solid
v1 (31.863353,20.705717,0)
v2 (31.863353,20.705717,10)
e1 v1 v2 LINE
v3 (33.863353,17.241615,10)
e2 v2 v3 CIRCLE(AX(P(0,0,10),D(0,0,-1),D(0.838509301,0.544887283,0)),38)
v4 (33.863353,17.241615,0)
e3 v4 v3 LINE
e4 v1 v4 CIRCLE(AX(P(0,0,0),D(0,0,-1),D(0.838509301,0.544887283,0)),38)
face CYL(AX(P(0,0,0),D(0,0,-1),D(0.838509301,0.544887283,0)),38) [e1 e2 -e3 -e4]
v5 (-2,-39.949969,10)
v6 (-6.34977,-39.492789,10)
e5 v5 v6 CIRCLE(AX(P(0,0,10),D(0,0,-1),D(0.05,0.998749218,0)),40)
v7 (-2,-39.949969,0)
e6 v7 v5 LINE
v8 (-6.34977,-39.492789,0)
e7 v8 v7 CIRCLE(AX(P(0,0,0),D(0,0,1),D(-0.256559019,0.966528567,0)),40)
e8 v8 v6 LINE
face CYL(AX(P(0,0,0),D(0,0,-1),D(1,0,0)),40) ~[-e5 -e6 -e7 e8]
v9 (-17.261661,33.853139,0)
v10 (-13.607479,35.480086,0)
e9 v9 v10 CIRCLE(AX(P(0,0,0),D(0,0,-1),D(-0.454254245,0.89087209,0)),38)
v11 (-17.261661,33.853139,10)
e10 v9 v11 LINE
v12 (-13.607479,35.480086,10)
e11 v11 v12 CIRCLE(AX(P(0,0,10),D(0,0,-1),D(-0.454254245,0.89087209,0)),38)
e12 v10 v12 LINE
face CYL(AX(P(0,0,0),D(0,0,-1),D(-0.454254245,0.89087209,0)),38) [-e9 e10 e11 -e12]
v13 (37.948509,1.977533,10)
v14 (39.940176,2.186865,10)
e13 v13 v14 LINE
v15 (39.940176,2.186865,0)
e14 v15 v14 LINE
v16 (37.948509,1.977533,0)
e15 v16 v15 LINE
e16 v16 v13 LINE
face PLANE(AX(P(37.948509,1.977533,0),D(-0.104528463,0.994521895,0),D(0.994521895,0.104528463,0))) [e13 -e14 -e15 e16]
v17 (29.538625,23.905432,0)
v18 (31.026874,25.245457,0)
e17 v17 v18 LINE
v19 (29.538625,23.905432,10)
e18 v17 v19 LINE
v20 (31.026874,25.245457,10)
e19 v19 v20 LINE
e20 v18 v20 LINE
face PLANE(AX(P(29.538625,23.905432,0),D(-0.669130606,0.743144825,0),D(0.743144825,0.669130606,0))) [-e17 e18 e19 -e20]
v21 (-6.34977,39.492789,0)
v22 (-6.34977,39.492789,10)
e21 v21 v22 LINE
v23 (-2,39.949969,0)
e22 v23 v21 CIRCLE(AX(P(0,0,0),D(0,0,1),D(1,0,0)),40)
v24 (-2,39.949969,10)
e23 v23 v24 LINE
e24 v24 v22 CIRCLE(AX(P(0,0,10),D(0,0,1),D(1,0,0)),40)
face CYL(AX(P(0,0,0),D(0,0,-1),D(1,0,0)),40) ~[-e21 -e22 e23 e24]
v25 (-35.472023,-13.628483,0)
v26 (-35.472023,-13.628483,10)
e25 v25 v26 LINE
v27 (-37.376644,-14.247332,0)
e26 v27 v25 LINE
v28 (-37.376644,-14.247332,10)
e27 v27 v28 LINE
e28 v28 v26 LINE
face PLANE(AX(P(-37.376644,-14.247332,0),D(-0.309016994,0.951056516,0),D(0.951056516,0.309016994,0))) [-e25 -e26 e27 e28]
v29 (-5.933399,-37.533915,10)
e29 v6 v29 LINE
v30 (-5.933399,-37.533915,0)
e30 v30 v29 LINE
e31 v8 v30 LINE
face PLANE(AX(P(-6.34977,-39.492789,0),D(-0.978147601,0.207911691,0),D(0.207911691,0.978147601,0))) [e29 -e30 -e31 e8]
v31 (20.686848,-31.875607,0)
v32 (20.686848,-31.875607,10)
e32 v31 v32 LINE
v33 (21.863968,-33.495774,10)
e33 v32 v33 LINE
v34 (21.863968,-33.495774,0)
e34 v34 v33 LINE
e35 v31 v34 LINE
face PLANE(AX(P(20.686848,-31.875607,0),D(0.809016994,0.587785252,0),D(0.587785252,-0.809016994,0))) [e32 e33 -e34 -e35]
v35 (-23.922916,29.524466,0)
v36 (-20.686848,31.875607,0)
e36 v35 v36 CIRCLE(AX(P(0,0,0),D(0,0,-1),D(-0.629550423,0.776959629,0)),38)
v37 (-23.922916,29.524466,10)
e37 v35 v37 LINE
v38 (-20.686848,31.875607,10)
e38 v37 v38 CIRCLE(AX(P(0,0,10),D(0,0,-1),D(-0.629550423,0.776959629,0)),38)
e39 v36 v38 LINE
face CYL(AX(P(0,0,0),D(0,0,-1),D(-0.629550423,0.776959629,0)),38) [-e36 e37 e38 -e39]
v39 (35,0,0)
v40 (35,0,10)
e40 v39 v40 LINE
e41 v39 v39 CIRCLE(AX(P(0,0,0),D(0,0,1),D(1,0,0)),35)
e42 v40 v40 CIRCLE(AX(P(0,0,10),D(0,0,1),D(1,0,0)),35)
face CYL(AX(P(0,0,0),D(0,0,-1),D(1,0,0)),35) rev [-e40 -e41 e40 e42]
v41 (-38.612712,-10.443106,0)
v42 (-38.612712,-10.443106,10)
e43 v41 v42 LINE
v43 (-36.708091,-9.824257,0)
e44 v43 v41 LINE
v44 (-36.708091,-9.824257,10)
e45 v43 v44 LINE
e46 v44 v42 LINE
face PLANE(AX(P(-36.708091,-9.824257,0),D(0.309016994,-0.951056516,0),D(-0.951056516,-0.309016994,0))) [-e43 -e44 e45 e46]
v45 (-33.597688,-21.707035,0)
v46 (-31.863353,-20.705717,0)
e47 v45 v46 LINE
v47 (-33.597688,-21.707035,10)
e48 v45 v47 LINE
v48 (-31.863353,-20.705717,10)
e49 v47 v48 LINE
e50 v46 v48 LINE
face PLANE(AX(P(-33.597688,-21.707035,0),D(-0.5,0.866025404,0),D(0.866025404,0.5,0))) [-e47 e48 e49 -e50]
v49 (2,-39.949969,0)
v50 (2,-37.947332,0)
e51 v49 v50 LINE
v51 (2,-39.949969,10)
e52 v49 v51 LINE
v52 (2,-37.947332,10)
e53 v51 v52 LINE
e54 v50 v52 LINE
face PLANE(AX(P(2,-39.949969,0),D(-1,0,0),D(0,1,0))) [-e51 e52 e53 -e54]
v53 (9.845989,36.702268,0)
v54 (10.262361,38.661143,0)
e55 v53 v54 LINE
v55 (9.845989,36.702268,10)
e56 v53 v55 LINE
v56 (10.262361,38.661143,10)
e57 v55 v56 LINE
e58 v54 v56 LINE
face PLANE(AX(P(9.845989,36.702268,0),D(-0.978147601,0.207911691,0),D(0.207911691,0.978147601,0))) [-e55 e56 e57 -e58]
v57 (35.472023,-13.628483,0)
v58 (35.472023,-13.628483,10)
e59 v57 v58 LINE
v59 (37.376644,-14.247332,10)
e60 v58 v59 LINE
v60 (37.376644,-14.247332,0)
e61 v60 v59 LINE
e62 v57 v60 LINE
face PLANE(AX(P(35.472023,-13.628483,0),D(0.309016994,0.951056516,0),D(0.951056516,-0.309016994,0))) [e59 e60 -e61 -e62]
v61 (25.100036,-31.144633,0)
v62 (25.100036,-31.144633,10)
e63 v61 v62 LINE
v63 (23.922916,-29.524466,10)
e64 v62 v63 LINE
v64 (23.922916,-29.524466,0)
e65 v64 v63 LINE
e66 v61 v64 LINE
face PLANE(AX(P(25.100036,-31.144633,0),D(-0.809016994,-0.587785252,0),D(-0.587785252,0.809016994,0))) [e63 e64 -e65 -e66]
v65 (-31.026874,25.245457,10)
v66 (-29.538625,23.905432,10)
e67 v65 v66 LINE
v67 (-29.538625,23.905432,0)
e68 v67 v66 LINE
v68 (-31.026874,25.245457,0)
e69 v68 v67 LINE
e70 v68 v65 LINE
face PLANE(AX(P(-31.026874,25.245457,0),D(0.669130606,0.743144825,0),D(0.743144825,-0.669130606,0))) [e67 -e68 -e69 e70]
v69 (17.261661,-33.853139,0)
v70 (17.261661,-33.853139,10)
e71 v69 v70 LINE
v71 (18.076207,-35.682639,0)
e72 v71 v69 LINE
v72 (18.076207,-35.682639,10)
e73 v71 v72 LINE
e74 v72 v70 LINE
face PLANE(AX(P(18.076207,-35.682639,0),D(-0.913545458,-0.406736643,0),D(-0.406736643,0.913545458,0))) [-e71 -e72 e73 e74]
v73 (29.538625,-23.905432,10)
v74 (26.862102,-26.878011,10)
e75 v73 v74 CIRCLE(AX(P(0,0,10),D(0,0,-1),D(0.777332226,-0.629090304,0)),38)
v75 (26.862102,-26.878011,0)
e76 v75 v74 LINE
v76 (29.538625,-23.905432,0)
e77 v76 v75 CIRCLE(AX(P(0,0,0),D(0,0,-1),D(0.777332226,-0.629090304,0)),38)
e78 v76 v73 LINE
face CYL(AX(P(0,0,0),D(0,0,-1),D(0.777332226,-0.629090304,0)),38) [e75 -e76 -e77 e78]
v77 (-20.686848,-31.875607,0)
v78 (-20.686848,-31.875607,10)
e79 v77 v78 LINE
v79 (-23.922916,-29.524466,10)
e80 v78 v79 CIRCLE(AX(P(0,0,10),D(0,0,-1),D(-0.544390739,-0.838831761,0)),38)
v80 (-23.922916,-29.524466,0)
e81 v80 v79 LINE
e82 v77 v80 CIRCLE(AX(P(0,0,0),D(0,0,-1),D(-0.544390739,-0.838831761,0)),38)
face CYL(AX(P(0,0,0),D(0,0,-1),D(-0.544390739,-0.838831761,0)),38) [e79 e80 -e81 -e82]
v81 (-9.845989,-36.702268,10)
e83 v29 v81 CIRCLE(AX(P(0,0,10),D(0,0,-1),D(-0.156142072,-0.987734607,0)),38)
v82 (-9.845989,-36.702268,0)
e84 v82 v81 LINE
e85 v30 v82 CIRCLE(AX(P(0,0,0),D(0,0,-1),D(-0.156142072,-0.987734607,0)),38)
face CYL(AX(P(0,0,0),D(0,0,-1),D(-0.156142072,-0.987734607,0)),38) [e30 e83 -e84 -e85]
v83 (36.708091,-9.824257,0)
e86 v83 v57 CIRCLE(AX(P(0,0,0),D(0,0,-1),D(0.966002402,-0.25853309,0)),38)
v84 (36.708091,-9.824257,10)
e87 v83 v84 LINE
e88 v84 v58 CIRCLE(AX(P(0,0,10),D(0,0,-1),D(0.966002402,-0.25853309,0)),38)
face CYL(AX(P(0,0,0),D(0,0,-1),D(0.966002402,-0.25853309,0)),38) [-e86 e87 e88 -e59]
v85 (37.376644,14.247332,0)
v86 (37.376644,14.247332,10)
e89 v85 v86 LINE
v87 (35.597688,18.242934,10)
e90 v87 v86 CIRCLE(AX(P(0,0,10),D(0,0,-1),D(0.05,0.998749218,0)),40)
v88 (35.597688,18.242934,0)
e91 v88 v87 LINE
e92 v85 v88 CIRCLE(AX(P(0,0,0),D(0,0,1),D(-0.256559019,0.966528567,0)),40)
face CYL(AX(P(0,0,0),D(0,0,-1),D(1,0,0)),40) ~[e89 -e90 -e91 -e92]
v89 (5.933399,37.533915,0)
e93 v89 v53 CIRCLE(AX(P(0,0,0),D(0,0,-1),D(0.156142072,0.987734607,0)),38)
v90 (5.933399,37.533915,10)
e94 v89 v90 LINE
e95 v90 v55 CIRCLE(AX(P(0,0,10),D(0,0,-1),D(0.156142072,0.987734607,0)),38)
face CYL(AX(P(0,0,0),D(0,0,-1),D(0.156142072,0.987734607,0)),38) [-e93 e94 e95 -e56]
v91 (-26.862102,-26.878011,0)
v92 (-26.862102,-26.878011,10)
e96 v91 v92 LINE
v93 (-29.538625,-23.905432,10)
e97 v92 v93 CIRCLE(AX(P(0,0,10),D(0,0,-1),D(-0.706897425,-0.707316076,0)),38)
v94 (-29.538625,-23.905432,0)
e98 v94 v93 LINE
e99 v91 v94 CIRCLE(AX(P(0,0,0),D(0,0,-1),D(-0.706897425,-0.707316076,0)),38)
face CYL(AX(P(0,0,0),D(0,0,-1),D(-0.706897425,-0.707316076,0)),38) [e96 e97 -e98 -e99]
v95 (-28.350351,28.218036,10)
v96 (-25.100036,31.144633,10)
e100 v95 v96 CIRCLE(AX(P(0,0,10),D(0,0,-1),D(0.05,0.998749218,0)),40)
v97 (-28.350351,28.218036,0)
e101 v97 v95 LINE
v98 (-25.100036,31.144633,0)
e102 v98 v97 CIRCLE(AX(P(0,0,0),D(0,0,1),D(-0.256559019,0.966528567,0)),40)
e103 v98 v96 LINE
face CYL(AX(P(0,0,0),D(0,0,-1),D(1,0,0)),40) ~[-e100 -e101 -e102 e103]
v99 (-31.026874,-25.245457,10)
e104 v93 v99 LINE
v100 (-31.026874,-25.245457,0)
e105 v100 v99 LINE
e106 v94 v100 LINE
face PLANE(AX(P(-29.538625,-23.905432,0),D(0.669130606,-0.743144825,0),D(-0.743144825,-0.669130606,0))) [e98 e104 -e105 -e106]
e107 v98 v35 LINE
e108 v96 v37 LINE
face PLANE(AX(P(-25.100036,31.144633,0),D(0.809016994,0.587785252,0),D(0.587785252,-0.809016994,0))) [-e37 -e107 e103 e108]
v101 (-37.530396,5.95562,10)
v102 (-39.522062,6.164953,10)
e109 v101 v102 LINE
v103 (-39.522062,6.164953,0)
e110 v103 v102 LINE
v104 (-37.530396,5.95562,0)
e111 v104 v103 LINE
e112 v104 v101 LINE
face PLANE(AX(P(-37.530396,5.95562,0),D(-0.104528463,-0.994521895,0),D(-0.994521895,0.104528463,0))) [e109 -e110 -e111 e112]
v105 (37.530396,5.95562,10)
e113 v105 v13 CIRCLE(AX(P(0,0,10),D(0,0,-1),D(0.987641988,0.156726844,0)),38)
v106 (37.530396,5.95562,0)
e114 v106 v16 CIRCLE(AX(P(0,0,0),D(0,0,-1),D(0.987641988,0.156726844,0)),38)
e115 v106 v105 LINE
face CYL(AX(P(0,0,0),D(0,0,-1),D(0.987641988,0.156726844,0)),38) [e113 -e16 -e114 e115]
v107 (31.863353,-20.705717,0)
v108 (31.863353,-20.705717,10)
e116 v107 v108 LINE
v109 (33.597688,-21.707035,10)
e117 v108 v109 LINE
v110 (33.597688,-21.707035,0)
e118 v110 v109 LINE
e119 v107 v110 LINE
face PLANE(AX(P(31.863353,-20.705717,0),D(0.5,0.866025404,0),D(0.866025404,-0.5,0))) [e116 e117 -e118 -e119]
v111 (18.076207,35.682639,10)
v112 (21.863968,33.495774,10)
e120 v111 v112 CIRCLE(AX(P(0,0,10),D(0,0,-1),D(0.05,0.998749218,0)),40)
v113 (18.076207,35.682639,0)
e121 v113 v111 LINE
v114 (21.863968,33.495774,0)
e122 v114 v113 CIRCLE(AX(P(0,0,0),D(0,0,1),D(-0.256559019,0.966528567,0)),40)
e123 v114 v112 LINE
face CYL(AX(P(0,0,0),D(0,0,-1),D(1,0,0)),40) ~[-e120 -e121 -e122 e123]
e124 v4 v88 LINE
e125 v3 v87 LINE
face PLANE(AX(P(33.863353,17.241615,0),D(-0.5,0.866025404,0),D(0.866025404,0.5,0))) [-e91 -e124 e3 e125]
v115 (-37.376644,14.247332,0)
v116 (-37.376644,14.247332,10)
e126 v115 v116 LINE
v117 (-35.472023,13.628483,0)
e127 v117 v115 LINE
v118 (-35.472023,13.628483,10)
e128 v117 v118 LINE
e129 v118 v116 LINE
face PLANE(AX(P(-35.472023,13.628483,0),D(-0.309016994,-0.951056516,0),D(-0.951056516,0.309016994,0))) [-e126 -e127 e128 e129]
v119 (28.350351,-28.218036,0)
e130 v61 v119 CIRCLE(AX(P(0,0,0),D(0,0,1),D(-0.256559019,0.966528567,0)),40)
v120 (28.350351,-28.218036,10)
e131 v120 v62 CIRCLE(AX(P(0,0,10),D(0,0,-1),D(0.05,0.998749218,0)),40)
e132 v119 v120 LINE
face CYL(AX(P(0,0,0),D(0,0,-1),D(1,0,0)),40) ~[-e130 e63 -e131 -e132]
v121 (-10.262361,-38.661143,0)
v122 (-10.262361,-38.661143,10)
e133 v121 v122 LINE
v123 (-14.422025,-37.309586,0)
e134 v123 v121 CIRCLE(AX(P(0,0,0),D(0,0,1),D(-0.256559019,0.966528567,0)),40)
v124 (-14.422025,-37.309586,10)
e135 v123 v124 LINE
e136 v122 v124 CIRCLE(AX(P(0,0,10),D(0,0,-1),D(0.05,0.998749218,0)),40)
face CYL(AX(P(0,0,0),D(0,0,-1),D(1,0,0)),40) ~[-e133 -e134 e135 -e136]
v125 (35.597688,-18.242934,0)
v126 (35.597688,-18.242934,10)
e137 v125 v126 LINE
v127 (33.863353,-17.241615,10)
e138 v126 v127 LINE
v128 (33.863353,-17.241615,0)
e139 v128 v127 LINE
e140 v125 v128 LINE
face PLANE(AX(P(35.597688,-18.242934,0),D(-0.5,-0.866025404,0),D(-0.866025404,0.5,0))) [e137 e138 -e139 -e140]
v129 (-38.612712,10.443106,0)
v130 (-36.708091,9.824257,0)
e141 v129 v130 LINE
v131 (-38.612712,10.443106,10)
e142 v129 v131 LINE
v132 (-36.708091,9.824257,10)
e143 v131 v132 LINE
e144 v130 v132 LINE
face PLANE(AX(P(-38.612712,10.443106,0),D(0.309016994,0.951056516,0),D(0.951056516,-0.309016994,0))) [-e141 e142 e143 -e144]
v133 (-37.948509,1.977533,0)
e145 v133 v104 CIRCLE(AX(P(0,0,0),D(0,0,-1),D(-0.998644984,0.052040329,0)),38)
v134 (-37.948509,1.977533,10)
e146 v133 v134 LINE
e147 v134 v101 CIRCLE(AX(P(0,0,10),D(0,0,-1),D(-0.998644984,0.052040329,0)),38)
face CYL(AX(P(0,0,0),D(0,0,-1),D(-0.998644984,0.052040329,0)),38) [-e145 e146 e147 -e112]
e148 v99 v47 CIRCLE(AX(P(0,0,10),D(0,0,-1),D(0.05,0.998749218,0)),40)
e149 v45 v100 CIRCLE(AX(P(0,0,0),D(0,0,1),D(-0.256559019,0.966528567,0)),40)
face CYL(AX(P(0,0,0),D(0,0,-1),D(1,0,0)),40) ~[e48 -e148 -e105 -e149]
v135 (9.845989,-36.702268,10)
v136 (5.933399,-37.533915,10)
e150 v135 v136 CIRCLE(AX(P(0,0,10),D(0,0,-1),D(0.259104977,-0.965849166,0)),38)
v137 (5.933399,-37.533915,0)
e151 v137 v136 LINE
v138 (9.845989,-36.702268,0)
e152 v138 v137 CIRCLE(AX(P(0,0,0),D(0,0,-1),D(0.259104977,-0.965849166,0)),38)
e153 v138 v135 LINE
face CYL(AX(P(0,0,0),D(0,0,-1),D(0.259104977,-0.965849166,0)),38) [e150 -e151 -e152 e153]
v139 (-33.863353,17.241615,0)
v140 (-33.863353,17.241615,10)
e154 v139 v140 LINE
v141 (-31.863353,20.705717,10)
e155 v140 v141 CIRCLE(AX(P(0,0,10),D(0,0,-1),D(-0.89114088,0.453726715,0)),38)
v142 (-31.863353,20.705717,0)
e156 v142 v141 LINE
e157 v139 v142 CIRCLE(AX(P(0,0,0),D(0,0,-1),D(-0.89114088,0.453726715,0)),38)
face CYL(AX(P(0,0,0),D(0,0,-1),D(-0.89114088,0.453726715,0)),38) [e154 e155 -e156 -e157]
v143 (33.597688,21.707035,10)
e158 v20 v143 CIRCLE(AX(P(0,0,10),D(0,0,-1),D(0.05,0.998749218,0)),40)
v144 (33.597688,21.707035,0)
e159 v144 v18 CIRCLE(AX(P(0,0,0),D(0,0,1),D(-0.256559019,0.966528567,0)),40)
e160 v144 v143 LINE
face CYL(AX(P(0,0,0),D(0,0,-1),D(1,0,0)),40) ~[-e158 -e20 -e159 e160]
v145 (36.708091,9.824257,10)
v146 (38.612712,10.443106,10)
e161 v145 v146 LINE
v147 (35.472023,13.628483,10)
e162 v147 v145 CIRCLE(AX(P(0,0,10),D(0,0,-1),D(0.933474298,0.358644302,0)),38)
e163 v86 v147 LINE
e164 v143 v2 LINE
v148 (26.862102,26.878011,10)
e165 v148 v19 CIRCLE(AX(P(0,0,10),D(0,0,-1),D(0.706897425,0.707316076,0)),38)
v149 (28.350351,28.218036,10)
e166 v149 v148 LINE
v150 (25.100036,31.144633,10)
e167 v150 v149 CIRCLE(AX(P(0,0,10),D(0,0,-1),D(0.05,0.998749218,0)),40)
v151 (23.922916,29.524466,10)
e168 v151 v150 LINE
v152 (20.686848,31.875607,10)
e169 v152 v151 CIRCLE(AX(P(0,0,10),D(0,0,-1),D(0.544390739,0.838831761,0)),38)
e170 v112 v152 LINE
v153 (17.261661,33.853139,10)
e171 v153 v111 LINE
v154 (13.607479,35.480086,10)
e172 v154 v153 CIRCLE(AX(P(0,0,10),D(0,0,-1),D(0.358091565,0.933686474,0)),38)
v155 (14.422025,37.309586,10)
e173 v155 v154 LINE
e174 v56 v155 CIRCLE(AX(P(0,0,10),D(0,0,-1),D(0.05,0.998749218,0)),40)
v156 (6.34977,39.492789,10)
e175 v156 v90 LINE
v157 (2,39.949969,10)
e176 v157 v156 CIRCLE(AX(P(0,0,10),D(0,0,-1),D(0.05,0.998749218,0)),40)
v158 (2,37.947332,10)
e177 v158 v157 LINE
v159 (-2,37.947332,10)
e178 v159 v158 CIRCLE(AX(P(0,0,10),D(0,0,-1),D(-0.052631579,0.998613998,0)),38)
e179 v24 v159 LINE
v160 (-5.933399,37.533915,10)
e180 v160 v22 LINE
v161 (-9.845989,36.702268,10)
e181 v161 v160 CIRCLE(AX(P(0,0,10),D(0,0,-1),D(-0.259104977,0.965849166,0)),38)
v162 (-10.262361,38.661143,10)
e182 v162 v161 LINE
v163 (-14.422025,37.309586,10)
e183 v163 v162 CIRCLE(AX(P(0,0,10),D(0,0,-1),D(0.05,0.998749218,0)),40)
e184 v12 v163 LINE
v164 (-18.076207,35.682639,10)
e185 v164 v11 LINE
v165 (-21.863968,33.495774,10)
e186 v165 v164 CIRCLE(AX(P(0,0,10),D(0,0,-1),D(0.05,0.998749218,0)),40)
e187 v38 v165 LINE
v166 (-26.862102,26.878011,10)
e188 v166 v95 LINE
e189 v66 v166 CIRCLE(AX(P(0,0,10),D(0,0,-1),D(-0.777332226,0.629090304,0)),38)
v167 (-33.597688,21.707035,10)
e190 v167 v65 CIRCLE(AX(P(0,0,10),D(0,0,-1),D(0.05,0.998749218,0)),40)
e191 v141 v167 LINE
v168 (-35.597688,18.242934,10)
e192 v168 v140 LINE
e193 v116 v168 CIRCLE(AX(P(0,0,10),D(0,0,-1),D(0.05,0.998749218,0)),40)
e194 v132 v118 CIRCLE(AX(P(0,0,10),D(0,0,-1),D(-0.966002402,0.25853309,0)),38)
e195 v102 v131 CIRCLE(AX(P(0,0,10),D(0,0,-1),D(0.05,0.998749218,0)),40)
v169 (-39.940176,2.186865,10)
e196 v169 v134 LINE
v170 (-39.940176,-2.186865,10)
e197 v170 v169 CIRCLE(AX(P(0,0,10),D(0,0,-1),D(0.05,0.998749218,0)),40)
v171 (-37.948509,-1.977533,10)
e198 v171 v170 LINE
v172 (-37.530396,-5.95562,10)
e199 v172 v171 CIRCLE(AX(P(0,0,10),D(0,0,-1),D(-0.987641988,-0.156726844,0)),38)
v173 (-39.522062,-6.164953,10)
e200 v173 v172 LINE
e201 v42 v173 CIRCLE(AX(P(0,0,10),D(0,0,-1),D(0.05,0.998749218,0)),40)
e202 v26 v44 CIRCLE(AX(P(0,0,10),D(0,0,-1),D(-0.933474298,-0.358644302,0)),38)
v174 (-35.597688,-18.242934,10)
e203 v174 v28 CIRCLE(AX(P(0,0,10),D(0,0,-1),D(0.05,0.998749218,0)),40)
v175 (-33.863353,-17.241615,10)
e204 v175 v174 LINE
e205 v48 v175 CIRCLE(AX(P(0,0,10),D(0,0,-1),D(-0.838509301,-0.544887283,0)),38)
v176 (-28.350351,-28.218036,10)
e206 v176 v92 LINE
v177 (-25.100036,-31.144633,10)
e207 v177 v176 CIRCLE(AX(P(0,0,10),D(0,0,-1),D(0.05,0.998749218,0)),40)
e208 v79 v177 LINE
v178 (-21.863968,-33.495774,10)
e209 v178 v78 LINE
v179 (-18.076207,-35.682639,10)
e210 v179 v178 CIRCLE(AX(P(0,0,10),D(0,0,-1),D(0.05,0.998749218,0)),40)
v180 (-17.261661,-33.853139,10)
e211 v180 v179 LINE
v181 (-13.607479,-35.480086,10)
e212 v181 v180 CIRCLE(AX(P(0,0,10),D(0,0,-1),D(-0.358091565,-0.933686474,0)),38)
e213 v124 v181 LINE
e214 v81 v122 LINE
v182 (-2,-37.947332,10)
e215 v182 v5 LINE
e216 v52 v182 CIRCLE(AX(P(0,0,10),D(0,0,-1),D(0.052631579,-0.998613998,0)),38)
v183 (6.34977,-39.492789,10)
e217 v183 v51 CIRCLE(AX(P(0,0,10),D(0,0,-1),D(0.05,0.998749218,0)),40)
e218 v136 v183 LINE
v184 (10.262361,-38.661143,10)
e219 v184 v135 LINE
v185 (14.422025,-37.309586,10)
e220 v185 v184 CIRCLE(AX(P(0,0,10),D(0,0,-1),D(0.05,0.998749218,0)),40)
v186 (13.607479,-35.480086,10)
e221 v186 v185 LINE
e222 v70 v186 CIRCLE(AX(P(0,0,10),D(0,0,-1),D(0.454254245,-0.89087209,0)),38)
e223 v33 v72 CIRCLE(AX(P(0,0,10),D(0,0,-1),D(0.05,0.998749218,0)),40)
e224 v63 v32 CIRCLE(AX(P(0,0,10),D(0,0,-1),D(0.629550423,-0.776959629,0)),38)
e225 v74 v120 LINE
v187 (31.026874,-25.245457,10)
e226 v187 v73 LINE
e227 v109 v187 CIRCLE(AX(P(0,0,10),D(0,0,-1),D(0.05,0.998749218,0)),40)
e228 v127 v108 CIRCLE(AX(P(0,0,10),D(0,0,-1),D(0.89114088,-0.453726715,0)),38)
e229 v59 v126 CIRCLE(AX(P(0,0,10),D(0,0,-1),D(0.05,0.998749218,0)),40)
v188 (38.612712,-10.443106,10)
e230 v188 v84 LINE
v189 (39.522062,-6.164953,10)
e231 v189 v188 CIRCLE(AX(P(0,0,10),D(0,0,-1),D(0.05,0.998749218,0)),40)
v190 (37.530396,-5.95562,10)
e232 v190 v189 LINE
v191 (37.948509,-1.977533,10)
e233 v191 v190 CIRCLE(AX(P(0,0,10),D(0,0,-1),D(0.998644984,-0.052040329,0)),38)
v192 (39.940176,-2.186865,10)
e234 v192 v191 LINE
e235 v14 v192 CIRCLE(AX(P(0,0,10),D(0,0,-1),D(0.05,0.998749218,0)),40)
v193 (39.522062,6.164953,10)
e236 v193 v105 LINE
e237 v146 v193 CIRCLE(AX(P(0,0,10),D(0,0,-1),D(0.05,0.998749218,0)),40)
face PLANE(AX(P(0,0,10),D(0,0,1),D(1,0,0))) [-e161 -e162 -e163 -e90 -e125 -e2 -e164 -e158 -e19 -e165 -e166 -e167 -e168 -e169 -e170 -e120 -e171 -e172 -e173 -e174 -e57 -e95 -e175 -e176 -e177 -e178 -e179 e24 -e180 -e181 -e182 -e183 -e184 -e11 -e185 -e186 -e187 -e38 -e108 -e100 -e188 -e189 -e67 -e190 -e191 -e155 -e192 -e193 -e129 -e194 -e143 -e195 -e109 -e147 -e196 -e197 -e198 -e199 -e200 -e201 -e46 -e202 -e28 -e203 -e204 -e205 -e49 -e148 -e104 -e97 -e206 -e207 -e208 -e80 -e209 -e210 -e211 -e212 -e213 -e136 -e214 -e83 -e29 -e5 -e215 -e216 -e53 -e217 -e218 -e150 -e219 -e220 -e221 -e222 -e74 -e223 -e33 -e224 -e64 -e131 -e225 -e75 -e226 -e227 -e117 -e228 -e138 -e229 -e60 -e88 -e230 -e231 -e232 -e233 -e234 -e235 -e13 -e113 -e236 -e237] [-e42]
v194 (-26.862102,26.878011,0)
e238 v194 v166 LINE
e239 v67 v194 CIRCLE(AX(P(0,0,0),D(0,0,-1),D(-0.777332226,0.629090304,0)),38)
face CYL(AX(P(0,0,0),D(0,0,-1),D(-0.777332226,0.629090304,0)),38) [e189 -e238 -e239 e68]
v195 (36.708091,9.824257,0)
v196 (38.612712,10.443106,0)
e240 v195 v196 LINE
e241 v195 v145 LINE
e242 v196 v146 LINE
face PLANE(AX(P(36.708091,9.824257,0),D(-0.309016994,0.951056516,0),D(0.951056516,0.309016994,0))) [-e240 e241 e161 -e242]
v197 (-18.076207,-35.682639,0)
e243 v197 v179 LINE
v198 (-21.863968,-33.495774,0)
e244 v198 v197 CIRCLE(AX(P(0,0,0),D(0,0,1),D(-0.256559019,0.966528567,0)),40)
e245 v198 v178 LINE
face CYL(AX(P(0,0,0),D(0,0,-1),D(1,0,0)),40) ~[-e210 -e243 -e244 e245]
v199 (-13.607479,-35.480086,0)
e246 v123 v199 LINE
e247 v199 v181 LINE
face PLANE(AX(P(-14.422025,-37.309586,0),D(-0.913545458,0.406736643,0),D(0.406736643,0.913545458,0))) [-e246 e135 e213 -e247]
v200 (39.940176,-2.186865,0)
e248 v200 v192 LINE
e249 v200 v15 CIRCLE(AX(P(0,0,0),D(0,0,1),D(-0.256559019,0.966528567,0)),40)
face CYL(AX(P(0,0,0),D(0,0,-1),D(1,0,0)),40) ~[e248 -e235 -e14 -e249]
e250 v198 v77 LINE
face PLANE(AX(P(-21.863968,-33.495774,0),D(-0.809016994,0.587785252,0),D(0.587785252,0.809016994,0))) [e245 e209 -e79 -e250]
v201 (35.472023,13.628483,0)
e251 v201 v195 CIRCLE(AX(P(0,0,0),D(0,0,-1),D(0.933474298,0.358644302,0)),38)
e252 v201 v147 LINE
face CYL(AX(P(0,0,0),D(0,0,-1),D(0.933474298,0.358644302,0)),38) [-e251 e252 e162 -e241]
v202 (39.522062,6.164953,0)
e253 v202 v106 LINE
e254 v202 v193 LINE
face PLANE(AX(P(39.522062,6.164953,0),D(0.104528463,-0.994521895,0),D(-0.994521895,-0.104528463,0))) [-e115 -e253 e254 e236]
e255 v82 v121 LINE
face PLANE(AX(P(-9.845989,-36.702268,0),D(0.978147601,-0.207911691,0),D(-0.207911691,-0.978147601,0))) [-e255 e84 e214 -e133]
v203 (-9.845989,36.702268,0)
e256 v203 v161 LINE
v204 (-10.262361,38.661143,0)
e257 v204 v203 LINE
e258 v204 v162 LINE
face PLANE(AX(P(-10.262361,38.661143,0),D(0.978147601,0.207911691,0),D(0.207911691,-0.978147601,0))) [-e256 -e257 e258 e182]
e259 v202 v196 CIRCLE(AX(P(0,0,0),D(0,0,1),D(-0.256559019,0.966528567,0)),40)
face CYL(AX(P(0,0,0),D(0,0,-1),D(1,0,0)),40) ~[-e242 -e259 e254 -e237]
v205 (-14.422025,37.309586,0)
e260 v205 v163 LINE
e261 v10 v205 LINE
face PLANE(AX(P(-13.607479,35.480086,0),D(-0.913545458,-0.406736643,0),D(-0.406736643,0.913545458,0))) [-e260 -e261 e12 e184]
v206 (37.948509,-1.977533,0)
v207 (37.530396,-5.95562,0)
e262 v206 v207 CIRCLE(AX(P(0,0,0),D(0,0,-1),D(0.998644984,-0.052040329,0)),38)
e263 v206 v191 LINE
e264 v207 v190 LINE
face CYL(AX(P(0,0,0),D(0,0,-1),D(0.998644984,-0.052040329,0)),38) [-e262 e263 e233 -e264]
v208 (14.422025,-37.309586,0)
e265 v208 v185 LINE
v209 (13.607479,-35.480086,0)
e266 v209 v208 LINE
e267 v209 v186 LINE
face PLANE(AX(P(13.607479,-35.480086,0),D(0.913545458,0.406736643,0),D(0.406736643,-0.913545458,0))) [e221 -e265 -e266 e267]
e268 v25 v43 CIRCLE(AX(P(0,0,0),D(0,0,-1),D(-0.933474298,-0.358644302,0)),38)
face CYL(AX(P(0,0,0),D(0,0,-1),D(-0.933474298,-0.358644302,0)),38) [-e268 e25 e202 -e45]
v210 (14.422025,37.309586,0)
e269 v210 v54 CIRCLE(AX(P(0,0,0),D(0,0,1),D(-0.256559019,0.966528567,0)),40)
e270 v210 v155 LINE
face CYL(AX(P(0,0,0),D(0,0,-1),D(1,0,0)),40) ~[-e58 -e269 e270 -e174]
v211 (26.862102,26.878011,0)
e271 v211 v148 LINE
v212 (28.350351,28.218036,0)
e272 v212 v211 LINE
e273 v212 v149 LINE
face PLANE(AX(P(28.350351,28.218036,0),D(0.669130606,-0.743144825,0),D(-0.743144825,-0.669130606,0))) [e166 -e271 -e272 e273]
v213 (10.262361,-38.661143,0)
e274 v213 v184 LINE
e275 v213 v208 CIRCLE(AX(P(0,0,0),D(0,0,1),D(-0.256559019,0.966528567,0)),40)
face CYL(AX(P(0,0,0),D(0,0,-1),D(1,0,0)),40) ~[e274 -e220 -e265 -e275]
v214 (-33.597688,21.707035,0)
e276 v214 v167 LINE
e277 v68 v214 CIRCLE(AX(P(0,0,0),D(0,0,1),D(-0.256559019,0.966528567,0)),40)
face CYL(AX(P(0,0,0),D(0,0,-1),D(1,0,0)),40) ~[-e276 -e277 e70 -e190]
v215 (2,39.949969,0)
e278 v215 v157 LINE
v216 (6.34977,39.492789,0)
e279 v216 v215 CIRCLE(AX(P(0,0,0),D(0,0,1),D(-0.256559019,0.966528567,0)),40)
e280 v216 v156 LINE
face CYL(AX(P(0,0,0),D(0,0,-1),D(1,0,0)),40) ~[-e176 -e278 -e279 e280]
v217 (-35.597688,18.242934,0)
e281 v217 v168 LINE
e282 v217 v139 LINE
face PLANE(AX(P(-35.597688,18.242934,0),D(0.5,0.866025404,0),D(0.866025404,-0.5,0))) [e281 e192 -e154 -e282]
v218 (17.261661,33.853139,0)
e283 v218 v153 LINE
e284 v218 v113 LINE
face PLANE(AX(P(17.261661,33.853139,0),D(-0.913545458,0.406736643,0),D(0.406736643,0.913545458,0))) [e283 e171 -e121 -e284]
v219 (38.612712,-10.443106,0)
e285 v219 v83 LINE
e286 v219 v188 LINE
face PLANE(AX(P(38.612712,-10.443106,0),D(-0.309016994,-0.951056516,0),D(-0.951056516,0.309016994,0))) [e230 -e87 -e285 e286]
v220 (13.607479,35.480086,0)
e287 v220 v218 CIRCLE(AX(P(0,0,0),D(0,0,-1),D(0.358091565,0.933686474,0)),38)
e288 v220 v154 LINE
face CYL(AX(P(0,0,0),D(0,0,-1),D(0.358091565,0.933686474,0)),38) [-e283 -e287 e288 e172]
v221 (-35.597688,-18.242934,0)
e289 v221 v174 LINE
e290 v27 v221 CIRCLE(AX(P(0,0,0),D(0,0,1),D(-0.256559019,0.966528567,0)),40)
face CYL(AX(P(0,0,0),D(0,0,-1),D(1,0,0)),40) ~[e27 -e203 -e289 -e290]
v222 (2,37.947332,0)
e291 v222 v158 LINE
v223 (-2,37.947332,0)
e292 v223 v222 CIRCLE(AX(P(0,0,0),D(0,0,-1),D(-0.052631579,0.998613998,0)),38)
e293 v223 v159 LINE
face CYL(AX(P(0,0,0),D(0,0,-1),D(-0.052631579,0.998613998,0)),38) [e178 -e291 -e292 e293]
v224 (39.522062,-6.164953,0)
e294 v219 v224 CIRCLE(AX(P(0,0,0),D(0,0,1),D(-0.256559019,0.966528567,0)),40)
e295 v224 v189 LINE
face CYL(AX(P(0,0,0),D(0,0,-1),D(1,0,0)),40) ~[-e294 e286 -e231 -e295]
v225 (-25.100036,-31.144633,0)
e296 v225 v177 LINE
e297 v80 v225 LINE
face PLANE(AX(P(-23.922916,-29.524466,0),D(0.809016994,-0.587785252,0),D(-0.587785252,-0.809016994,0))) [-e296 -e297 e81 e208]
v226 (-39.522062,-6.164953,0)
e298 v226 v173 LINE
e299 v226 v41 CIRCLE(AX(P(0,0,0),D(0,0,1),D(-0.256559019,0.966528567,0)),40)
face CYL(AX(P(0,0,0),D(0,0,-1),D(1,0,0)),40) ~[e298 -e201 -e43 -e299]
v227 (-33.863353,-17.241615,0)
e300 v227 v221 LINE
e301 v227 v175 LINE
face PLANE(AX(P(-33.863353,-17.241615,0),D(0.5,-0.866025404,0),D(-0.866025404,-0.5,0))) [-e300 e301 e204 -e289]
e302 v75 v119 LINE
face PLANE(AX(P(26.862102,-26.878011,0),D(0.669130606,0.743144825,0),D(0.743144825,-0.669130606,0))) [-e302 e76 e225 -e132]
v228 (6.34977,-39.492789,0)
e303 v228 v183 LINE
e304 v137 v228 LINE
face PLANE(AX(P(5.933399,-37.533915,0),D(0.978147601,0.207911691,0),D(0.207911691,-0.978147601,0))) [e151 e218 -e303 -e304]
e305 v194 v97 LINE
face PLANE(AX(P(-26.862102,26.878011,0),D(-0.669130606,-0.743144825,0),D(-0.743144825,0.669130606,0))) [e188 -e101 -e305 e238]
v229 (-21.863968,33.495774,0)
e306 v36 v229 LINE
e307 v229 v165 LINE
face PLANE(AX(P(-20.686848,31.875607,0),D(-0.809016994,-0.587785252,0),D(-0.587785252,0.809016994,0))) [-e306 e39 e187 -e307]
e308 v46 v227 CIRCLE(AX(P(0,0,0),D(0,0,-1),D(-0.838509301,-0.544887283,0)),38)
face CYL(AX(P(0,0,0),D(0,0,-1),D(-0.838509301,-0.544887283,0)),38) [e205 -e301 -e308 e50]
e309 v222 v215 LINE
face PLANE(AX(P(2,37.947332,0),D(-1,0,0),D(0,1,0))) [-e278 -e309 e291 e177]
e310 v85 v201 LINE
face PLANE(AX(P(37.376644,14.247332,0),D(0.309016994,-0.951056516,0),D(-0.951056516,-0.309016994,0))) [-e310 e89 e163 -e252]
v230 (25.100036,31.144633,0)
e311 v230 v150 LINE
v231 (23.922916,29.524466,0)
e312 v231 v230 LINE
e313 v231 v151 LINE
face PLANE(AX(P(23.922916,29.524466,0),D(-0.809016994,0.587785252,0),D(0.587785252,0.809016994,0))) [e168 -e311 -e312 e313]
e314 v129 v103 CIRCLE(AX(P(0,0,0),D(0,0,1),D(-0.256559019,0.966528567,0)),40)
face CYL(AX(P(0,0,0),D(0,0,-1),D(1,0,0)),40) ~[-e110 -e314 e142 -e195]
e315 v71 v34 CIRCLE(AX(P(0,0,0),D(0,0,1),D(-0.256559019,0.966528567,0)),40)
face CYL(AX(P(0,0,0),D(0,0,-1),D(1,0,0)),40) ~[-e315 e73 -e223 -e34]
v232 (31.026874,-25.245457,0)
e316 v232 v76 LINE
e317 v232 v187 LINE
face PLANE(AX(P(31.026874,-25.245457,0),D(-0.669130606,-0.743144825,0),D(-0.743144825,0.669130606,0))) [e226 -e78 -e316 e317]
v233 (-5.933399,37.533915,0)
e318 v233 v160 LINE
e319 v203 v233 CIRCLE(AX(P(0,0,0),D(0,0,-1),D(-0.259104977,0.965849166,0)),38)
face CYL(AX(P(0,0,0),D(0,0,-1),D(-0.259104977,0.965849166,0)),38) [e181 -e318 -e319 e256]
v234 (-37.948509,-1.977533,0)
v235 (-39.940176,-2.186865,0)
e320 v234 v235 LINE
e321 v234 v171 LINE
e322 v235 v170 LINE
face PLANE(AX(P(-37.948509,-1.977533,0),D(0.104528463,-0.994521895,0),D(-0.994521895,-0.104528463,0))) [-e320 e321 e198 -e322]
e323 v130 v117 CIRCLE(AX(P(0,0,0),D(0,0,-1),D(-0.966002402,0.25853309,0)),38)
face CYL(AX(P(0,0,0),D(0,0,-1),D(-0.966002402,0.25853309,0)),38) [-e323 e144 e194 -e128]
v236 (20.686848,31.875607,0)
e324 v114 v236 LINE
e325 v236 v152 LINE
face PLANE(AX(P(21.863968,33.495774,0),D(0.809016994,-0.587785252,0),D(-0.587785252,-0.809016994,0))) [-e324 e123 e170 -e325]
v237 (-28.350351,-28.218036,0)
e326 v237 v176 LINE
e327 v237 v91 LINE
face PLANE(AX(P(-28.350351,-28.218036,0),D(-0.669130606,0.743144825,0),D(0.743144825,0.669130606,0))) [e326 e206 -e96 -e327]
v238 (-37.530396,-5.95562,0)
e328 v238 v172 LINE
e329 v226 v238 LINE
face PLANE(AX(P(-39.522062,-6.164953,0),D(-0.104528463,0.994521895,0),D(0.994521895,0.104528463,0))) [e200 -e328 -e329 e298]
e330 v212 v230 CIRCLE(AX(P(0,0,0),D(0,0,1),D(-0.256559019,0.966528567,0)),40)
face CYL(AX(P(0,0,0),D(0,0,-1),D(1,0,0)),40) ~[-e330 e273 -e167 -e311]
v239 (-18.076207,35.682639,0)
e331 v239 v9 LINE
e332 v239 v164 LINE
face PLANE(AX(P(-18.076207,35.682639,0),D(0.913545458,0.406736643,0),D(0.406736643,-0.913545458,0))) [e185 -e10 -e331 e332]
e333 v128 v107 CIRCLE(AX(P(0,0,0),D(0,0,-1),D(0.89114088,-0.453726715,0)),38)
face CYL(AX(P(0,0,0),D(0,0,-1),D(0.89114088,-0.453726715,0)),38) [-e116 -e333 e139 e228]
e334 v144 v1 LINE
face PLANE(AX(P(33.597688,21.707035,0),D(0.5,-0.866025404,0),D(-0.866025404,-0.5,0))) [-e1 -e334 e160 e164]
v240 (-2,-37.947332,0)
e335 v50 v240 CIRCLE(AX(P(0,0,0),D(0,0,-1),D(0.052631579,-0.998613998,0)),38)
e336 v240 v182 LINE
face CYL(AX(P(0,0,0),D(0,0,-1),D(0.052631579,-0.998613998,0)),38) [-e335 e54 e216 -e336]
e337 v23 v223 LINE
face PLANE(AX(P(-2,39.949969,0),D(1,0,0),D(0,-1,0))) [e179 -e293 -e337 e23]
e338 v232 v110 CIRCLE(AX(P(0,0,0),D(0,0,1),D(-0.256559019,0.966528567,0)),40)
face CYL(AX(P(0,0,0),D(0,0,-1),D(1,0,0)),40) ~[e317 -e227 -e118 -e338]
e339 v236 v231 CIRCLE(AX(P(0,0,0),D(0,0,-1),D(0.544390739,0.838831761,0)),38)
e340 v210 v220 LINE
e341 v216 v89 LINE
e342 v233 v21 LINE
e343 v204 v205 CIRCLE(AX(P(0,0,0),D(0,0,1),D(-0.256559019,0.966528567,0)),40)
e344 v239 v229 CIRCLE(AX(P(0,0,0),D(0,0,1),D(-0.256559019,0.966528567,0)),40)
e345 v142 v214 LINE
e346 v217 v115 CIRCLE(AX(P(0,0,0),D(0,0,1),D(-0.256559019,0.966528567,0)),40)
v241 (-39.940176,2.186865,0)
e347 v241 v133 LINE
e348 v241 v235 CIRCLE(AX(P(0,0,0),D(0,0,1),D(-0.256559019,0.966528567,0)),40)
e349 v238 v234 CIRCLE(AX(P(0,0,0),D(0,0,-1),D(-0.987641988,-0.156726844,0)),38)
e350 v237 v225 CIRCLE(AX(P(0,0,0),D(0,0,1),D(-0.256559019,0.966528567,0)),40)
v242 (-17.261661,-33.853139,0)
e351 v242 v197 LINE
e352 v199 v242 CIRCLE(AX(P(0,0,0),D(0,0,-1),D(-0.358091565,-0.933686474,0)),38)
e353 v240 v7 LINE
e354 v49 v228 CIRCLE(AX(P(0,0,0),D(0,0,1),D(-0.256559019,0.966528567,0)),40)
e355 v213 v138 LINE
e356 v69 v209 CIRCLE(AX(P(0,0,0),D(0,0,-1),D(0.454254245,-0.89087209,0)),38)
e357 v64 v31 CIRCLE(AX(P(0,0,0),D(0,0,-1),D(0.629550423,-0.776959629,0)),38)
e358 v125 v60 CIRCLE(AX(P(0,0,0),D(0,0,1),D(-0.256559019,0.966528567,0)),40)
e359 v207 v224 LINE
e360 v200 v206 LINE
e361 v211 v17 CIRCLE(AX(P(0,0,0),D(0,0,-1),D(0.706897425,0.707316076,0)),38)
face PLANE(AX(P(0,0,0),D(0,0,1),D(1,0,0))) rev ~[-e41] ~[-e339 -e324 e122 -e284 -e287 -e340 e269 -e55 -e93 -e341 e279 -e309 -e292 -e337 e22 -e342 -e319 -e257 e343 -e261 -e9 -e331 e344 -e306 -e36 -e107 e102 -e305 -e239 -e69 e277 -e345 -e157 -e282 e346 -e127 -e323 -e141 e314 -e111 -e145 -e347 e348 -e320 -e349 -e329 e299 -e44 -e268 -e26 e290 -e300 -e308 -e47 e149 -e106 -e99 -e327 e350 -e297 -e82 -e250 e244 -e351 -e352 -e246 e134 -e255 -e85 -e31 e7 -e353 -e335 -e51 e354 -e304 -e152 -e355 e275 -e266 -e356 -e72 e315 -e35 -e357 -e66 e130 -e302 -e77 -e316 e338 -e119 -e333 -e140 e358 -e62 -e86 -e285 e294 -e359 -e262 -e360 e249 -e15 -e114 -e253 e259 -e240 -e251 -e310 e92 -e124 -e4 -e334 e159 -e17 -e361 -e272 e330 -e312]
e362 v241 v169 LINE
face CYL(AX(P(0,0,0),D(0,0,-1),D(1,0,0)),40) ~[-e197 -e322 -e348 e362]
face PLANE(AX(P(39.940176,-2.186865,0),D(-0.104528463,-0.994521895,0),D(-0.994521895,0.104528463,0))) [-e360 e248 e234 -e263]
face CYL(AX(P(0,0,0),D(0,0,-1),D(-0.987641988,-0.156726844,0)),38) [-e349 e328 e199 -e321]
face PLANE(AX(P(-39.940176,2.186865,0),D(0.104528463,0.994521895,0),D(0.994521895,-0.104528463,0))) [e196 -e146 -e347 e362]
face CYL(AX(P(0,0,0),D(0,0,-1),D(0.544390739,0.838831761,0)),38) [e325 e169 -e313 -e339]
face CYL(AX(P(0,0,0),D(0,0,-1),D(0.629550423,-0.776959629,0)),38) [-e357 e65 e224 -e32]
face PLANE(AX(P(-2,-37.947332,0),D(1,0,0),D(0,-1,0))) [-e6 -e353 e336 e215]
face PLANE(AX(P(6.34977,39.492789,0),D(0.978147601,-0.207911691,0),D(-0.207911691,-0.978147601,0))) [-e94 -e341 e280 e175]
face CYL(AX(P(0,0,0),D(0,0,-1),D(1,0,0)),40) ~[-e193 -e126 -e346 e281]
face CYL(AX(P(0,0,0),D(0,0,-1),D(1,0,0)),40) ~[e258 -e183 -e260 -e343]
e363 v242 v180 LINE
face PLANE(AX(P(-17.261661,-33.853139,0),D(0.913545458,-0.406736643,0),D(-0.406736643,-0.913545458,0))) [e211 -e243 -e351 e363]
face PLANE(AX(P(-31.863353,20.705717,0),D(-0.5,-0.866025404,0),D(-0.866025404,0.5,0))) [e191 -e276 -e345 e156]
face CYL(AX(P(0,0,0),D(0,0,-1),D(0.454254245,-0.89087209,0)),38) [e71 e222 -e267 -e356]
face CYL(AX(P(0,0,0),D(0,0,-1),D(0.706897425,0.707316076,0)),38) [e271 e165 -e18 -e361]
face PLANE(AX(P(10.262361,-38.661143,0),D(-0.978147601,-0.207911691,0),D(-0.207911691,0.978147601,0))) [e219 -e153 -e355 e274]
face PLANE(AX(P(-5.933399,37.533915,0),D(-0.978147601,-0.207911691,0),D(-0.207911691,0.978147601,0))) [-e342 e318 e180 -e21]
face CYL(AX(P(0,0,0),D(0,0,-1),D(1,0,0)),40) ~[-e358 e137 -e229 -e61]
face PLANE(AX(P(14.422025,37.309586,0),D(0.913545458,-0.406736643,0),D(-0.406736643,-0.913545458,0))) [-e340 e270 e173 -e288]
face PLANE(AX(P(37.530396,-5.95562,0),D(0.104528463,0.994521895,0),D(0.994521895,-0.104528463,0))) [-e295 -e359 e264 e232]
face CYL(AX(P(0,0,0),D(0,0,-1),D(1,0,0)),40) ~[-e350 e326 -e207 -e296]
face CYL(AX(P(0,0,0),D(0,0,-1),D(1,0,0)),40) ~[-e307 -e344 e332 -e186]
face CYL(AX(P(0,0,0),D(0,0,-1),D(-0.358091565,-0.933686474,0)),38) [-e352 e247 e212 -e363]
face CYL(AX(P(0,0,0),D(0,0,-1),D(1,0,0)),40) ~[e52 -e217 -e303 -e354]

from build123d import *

# Parameters (mm, degrees)
SKETCH1_R           = 40
SKETCH1_R_2         = 35
BOSS_EXTRUDE1_DEPTH = 10
CUT_EXTRUDE5_DEPTH  = 10
CIRPATTERN2_COUNT   = 30


with BuildPart() as part:
    # Sketch1 → Boss-Extrude1 (new body)
    with BuildSketch(Plane.XY):
        Circle(SKETCH1_R)
        Circle(SKETCH1_R_2, mode=Mode.SUBTRACT)
    extrude(amount=BOSS_EXTRUDE1_DEPTH)

    # Sketch4 → Cut-Extrude5 (cut)
    with BuildSketch(Plane.XY):
        with BuildLine():
            Line((2, 37.947331922), (2, 39.949968711))
            ThreePointArc((2, 39.949968711), (0, 40), (-2, 39.949968711))
            Line((-2, 39.949968711), (-2, 37.947331922))
            ThreePointArc((-2, 37.947331922), (0, 38), (2, 37.947331922))
        make_face()
    cut_extrude5 = extrude(amount=CUT_EXTRUDE5_DEPTH, mode=Mode.SUBTRACT)

    # CirPattern2: Cut-Extrude5 ×30 about axis
    cirpattern2_axis = Axis((0, 0, 0), (0, 0, 1))
    for i in range(1, CIRPATTERN2_COUNT):
        add(cut_extrude5.rotate(cirpattern2_axis, i * 360 / CIRPATTERN2_COUNT), mode=Mode.SUBTRACT)


solid = part.part
